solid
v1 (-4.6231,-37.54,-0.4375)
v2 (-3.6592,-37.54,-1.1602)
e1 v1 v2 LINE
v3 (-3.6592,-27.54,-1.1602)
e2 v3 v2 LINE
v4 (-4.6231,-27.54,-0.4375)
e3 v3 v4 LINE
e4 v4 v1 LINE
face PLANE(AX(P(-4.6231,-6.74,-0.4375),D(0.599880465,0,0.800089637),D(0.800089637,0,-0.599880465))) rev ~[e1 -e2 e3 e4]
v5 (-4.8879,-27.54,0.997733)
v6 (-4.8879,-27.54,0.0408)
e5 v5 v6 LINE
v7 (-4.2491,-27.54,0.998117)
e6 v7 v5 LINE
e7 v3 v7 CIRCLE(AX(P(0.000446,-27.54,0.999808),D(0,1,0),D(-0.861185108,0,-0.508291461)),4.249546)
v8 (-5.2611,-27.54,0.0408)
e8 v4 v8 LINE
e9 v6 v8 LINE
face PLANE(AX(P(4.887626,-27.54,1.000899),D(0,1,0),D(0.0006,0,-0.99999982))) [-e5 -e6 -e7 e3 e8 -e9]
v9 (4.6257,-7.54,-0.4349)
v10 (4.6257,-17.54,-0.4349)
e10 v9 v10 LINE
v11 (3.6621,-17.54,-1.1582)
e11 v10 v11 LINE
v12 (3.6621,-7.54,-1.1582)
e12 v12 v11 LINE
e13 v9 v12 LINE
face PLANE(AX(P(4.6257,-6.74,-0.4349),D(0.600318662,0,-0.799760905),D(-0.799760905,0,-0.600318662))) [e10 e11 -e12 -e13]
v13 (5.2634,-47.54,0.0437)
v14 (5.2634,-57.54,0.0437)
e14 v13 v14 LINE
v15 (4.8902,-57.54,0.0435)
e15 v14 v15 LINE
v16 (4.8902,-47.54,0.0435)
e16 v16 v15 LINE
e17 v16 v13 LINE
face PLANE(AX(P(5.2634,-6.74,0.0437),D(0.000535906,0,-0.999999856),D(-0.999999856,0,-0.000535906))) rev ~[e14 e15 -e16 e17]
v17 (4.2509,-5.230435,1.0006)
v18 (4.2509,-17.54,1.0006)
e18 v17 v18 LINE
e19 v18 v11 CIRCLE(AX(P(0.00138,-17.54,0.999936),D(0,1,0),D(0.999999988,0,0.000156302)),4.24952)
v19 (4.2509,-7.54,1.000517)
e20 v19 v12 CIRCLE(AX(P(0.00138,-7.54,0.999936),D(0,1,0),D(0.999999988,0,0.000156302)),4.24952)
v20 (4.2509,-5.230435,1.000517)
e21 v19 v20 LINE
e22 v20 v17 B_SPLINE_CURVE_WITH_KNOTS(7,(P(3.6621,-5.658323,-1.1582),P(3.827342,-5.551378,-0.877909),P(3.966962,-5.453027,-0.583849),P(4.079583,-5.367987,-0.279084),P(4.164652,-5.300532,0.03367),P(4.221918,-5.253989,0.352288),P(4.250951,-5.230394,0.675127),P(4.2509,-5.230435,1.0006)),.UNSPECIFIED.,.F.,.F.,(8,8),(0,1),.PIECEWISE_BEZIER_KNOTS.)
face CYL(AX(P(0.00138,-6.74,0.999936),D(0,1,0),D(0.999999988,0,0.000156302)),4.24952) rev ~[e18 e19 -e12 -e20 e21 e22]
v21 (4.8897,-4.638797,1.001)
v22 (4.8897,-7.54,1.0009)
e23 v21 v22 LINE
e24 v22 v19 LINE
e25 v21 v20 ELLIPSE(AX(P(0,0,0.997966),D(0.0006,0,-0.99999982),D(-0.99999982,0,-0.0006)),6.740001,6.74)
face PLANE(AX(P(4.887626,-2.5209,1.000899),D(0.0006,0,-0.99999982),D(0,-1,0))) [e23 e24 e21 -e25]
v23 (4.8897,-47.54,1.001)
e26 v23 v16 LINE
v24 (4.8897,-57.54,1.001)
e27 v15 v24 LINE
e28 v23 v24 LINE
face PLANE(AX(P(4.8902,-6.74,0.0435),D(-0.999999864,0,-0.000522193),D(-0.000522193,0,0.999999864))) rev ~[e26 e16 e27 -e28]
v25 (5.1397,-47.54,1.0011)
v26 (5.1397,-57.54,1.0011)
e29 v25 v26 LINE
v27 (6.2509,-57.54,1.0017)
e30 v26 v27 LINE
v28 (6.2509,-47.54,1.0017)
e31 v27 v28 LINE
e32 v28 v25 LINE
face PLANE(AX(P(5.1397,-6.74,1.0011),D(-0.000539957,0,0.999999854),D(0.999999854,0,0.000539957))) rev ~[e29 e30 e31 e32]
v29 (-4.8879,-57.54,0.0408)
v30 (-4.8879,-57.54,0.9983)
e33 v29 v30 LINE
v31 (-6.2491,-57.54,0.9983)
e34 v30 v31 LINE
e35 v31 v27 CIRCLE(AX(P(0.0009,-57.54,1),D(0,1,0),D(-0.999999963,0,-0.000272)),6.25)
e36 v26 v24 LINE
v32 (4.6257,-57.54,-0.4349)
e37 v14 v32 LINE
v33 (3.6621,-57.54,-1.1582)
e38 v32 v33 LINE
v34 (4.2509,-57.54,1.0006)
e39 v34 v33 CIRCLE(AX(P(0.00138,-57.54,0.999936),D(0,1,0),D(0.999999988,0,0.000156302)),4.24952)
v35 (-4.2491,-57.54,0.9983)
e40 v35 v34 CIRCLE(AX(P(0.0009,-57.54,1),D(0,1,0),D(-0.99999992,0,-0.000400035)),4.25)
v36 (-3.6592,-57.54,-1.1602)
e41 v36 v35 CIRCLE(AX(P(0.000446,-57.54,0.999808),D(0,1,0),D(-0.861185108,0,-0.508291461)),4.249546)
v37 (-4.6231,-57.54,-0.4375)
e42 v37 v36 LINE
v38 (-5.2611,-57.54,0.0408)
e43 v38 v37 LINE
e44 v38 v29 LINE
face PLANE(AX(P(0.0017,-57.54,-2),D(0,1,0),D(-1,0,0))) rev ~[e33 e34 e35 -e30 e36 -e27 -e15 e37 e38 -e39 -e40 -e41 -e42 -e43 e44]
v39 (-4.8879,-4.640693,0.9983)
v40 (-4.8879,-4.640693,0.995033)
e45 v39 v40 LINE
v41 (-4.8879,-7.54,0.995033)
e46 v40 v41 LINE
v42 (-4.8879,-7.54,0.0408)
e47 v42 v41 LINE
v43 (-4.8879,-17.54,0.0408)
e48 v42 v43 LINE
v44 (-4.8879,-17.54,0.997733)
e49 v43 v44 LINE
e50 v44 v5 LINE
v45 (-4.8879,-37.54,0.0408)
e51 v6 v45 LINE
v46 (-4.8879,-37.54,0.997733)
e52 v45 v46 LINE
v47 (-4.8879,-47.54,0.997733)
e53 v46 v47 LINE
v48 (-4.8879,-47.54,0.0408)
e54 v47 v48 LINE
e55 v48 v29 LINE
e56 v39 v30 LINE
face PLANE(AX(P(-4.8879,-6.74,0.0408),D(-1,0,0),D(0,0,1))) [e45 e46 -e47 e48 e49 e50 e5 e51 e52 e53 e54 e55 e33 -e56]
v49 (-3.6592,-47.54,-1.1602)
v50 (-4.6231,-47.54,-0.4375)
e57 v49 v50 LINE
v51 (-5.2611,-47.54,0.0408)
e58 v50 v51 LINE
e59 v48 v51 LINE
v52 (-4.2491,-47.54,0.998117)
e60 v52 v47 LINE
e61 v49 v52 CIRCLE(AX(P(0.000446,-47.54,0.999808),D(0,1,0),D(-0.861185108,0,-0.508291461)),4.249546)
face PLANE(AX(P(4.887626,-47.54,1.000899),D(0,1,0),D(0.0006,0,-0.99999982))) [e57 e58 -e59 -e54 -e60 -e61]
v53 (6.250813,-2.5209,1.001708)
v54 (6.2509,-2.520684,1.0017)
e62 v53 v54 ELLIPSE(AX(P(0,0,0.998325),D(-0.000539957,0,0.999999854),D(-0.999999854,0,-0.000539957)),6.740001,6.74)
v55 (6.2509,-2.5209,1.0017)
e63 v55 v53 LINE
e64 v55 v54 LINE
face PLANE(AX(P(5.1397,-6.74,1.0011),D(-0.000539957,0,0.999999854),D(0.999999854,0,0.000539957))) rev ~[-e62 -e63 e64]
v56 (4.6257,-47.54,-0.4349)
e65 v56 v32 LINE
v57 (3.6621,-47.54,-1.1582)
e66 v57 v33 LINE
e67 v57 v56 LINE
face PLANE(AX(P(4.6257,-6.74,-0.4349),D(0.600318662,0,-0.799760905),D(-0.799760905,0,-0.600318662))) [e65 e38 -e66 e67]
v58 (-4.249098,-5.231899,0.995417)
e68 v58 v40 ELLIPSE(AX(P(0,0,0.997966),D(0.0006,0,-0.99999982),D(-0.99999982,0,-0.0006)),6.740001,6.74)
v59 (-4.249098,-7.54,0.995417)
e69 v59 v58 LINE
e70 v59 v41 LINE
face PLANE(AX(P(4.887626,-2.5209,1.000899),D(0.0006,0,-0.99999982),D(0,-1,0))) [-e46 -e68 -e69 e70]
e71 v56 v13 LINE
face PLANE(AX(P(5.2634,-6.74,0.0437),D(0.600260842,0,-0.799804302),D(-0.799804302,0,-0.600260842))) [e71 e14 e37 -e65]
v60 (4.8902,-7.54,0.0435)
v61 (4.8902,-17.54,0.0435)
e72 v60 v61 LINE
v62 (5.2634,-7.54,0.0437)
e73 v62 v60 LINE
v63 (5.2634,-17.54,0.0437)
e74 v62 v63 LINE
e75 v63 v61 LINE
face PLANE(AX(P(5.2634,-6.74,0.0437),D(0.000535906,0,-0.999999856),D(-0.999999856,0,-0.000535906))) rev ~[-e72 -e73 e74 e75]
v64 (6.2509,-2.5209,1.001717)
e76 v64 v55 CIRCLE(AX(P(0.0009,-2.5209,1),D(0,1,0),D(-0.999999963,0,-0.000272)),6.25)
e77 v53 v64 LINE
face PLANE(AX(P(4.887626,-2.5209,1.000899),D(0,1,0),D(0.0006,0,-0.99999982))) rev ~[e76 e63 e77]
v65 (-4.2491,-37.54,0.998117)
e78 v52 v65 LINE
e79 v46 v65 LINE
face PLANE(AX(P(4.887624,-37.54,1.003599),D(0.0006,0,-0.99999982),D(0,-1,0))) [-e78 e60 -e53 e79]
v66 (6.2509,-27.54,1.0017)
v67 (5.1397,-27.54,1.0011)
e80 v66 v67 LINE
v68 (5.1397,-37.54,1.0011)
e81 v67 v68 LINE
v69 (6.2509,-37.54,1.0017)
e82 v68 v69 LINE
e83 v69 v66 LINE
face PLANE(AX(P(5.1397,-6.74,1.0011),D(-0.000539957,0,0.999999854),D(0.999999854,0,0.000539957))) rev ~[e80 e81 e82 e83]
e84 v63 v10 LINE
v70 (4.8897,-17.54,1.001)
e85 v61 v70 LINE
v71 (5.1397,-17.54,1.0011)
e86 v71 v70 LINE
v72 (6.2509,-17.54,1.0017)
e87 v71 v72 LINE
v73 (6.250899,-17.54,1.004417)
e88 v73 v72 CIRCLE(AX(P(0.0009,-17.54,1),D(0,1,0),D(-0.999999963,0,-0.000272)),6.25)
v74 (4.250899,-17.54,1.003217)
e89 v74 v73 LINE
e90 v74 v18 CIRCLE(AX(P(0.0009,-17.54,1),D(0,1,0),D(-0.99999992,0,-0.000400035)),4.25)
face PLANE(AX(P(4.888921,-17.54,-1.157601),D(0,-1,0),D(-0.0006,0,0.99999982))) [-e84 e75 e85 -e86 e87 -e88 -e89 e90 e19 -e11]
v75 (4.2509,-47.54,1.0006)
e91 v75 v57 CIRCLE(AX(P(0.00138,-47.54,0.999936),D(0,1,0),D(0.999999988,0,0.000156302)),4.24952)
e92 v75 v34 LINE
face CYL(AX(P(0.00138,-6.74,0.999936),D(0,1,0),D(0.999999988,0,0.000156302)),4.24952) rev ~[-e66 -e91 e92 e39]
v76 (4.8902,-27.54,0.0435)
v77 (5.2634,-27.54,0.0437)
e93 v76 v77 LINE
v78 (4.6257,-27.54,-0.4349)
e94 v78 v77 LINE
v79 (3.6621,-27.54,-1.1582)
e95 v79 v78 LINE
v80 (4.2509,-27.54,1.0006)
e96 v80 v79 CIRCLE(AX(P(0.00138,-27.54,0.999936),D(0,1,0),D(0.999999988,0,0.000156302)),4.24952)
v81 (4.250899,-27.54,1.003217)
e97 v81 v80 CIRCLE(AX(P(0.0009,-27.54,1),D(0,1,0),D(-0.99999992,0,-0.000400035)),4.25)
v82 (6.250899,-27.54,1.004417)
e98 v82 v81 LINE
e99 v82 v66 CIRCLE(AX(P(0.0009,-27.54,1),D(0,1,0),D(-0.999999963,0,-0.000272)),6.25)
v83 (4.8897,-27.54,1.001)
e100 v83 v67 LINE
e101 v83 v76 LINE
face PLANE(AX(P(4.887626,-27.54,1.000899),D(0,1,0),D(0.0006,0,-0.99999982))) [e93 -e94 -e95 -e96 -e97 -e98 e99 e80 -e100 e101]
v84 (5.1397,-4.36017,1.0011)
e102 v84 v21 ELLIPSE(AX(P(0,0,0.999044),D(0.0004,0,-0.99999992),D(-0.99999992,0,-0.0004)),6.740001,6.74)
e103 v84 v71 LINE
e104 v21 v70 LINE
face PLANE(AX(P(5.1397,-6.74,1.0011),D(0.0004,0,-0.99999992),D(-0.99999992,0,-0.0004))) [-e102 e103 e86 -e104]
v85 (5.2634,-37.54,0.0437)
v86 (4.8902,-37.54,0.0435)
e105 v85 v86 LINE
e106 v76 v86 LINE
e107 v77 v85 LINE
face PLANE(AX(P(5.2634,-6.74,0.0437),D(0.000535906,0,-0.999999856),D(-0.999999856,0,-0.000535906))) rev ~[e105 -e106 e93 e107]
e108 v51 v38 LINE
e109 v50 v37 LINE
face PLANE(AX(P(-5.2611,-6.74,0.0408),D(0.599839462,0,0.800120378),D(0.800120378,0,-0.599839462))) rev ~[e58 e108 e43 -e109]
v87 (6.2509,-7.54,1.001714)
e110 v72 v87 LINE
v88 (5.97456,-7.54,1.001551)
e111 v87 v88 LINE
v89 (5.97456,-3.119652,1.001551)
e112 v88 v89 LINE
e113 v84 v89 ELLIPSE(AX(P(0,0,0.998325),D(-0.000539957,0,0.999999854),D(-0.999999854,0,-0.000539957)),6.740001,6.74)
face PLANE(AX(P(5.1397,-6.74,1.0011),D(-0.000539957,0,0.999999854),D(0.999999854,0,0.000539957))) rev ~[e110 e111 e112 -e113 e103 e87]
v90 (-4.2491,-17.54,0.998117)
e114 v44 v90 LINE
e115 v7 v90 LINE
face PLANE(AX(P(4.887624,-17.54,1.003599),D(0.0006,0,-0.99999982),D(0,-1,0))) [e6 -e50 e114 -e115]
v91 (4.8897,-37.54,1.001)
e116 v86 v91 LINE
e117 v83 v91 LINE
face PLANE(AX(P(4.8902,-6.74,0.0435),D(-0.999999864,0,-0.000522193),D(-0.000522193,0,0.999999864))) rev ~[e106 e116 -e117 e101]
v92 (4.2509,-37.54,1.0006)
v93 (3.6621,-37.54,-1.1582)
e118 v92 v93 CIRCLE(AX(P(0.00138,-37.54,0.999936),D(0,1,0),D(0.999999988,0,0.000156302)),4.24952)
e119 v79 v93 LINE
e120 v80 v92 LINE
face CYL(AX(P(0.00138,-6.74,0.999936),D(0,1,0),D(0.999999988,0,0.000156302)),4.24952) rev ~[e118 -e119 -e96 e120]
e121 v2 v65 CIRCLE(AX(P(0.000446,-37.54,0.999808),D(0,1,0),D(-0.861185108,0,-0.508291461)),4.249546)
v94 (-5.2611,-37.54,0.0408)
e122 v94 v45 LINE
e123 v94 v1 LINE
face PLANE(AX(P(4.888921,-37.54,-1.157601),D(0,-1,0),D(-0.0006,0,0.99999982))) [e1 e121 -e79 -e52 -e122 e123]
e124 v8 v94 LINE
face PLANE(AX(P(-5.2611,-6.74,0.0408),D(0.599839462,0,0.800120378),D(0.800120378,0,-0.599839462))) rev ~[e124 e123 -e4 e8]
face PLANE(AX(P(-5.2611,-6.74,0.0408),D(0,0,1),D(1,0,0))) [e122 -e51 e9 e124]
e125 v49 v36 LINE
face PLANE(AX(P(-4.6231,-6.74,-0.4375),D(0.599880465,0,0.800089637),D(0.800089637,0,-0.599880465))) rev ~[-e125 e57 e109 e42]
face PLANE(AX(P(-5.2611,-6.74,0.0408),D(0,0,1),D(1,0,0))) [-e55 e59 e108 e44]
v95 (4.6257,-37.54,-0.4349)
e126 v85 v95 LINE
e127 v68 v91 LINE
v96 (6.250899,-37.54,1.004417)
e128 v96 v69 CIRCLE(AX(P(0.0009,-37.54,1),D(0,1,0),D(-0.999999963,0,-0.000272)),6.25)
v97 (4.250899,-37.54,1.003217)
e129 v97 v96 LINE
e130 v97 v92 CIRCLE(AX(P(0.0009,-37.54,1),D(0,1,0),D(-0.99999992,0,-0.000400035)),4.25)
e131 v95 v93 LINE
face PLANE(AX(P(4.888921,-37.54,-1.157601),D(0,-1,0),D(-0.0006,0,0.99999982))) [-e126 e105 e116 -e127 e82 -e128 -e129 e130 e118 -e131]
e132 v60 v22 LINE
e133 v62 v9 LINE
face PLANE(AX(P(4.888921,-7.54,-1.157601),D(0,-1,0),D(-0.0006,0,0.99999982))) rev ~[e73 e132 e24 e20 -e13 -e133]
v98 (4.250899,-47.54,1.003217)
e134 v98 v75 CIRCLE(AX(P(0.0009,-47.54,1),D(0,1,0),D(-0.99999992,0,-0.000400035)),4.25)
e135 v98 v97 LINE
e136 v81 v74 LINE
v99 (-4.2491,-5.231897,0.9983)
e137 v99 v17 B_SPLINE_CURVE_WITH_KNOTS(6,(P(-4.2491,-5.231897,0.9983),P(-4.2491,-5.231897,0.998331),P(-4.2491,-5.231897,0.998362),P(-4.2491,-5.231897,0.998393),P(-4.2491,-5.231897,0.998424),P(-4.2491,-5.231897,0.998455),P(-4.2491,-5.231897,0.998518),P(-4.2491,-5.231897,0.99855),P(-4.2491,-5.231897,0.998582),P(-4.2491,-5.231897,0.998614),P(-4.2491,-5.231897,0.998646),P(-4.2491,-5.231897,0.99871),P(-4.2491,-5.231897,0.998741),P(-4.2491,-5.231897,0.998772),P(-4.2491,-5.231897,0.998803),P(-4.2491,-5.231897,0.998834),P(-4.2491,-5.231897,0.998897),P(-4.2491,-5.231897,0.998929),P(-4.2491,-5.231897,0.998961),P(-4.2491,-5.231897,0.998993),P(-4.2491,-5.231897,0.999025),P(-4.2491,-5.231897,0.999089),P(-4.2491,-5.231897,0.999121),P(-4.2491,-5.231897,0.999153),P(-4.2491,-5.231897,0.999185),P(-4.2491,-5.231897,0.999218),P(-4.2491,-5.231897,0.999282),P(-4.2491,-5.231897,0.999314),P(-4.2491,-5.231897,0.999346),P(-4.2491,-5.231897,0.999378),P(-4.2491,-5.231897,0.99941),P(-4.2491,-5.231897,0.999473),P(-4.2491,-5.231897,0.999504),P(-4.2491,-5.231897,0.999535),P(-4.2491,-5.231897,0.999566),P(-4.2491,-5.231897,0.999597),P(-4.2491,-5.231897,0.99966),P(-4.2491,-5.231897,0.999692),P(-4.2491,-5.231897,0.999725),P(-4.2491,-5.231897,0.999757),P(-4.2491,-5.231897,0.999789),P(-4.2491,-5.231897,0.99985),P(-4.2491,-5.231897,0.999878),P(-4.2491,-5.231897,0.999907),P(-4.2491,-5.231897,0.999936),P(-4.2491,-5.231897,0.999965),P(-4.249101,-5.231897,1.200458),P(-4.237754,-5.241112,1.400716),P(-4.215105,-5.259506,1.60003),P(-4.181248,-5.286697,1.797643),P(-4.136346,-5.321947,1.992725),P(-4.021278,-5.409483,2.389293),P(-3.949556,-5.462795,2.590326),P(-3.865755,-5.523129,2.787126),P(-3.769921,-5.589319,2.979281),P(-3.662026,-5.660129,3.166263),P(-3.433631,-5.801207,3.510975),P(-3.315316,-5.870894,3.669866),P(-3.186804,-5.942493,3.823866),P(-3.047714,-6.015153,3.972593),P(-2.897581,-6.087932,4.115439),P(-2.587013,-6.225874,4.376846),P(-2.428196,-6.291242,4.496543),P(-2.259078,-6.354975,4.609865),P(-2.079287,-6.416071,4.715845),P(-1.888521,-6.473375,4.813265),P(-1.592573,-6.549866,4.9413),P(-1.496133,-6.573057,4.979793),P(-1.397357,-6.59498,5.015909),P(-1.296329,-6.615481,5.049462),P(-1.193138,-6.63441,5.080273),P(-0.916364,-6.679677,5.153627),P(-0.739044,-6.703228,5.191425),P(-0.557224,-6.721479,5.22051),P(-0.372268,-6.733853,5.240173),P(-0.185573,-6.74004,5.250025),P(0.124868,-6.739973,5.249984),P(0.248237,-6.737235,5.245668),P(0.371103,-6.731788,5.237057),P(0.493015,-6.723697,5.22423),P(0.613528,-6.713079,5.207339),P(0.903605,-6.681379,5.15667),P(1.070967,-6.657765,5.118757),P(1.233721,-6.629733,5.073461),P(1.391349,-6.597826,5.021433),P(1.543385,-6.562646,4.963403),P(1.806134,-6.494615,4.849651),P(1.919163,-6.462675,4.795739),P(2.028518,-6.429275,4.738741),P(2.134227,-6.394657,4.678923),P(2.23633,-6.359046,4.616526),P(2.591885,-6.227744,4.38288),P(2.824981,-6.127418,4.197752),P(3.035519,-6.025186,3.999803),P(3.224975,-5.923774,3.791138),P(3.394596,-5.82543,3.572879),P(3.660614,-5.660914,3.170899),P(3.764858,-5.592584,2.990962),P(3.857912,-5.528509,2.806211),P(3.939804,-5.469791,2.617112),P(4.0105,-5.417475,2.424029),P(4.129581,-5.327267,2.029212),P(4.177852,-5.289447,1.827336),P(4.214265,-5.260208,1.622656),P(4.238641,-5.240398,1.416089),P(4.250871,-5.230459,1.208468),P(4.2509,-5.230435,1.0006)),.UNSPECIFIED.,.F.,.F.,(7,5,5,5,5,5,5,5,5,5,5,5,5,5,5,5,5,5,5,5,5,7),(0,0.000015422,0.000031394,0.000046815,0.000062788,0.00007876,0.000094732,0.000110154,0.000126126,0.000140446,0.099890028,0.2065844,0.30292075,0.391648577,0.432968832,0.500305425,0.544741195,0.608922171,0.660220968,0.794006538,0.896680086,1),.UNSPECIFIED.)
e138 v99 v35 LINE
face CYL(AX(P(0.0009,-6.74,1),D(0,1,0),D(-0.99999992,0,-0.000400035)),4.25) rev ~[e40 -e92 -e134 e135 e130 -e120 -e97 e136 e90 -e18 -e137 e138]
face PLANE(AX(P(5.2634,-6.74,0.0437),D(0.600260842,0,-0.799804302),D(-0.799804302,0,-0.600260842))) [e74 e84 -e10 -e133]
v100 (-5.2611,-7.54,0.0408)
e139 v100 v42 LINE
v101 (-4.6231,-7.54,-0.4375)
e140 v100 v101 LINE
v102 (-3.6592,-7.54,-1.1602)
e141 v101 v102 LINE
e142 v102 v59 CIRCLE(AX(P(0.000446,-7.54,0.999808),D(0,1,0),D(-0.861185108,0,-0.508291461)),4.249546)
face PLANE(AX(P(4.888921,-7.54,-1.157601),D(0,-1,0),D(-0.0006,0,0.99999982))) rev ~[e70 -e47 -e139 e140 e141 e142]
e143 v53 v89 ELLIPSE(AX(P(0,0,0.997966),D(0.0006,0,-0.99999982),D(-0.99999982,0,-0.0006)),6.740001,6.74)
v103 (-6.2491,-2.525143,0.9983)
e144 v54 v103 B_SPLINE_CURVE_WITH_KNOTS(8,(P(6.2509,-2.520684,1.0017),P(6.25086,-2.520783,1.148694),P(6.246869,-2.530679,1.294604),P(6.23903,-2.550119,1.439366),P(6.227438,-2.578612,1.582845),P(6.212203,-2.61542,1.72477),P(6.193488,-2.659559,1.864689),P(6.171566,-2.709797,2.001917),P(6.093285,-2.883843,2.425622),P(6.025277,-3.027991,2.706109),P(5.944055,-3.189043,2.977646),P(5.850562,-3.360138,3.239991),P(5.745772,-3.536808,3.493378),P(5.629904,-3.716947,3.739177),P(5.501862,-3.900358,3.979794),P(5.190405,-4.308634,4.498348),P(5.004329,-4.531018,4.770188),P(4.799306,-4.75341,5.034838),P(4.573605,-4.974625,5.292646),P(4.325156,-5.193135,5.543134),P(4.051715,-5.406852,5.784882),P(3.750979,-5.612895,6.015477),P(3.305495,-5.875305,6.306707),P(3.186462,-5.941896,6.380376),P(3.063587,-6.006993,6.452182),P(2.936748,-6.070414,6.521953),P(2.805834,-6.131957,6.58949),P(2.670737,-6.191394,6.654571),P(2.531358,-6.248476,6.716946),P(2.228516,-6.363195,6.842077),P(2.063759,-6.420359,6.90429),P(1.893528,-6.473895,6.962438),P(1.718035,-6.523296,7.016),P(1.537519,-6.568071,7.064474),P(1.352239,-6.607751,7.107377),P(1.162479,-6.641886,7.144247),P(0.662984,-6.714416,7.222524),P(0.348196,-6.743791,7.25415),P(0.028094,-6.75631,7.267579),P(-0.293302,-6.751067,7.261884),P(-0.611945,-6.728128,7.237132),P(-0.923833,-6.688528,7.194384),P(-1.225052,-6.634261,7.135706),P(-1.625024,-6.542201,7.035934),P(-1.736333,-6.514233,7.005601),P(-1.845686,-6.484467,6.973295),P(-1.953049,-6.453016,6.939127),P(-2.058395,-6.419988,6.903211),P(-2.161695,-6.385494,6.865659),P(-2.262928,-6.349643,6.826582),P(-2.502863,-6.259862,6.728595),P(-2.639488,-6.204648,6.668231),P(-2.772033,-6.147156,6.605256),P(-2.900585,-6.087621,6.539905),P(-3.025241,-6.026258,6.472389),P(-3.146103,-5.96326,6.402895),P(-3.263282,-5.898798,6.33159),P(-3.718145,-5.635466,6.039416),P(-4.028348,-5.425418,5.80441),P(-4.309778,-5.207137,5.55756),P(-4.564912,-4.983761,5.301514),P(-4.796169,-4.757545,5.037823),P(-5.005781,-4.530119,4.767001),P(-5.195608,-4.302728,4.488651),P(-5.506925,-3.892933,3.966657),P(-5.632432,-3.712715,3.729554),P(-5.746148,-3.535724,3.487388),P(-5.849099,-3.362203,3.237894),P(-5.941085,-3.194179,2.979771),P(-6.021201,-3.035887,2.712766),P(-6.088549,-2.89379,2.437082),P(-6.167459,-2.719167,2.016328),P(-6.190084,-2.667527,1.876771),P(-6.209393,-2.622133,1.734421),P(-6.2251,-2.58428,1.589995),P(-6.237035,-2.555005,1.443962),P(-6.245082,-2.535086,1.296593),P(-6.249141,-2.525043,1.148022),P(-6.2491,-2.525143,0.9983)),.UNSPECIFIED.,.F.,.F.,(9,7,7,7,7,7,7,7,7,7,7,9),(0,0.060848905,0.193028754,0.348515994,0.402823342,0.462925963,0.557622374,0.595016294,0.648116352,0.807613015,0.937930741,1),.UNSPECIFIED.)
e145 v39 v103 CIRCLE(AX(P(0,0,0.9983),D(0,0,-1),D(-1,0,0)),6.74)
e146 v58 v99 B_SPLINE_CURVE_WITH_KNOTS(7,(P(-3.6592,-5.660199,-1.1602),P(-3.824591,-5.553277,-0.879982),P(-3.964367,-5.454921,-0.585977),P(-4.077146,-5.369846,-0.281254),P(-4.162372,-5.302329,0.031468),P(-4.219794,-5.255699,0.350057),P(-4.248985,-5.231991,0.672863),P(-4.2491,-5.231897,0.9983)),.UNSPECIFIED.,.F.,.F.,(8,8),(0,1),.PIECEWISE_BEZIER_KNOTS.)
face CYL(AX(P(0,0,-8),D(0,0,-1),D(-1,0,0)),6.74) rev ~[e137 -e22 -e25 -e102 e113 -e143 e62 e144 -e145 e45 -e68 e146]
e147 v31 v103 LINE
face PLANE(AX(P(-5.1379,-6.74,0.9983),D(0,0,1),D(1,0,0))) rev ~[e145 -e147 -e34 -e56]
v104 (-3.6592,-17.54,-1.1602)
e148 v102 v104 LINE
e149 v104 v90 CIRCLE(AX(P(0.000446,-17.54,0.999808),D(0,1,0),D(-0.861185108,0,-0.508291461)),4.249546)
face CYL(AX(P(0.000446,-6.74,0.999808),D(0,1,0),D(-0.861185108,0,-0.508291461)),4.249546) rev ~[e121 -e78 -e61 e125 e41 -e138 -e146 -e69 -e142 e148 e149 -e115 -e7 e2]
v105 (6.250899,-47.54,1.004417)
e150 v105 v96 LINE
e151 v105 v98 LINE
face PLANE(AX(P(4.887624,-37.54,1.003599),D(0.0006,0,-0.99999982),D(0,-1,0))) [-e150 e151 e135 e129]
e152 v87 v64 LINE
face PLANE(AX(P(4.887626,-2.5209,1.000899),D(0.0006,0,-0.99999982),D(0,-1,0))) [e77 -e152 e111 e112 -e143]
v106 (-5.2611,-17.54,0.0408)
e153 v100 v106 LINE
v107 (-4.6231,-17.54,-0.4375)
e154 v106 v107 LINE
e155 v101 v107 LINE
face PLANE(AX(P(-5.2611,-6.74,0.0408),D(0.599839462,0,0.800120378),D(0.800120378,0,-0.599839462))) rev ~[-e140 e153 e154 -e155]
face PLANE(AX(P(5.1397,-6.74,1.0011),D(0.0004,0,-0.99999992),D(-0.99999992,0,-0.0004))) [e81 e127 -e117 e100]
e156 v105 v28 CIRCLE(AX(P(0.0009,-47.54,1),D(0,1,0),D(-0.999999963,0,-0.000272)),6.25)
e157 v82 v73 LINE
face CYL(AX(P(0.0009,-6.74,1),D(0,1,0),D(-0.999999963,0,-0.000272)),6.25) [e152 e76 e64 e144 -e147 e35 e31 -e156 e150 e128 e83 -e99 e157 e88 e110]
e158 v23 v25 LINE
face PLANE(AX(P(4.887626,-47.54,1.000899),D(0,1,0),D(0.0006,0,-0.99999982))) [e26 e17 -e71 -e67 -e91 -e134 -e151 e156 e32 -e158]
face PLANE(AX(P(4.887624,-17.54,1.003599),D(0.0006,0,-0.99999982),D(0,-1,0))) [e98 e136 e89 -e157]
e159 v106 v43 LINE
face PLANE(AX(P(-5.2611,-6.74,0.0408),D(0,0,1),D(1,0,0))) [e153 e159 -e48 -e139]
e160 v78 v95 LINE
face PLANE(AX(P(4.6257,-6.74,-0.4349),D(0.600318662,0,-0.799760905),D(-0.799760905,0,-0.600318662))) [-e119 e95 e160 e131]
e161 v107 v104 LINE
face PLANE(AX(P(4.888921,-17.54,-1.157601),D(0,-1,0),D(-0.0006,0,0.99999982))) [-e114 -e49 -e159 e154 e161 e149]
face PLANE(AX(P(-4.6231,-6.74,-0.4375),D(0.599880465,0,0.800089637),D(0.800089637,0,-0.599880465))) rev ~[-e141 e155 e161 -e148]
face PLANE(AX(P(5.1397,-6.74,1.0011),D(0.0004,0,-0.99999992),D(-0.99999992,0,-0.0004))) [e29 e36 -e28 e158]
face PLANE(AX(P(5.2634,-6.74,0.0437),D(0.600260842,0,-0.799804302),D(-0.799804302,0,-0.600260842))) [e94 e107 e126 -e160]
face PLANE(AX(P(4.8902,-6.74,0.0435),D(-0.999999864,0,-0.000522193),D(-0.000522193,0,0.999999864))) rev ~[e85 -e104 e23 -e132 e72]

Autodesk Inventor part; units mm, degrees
ref_plane "YZ Plane" through (0, 0, 0) normal (1, 0, 0) x (0, 1, 0)
ref_plane "Work Plane2" through (0.0017, -6.74, -2) normal (0, 1, 0) x (-1, 0, 0)
sketch "Sketch1" plane through (0.0017, -6.74, -2) normal (0, 1, 0) x (-1, 0, 0)
  line L0 (-2.7483, 0) -> (0, 0) construction
  line L1 (0, 0) -> (0.0017, 6)
  line L2 (1.7517, 6) -> (-1.7483, 6) construction
  arc A0 (-3.9294, 1.3826) -> (-4.2492, 3) centre (0.0008, 3) ccw construction
  arc A1 (-3.413, 0.4685) -> (3.4132, 0.4666) centre (0.0008, 3) ccw construction
  line L3 (5.1396, 2.9983) -> (6.2508, 2.9983)
  arc A2 (-6.2492, 3.0017) -> (6.2508, 2.9983) centre (0.0008, 3) ccw construction
  line L4 (5.7129, 2.1908) -> (5.1396, 2.1908) construction
  line L5 (5.1396, 2.1908) -> (5.1396, 2.9983) construction
  line L6 (-5.138, 3.0011) -> (-6.2492, 3.0017)
  line L7 (-5.7117, 2.194) -> (-5.1384, 2.1937) construction
  line L8 (-5.1384, 2.1937) -> (-5.138, 3.0011) construction
  line L9 (5.7129, 2.1908) -> (3.4132, 0.4666) construction
  line L10 (-5.7117, 2.194) -> (-3.413, 0.4685) construction
  line L11 (5.1396, 2.5258) -> (4.8896, 2.5258) construction
  line L12 (5.1396, 2.1908) -> (5.1396, 2.0408) construction
  line L13 (4.7148, 1.4425) -> (4.6248, 1.5625) construction
  line L14 (5.2628, 2.0408) -> (4.6248, 1.5625)
  line L15 (5.2628, 2.0408) -> (4.8896, 2.0408)
  line L16 (5.1396, 2.9983) -> (4.8896, 2.9983)
  line L17 (4.8896, 2.0408) -> (4.8896, 2.9983)
  line L18 (4.6248, 1.5625) -> (3.6609, 0.8398)
  arc A3 (3.6609, 0.8398) -> (4.2508, 2.9983) centre (0.0008, 3) ccw
  line L19 (-5.2617, 2.0437) -> (-4.624, 1.5651)
  line L20 (-5.2617, 2.0437) -> (-4.8885, 2.0435)
  line L21 (-5.138, 3.0011) -> (-4.888, 3.001)
  line L22 (-4.8885, 2.0435) -> (-4.888, 3.001)
  line L23 (-4.624, 1.5651) -> (-3.6604, 0.8418)
  arc A4 (-4.2492, 3.0006) -> (-3.6604, 0.8418) centre (0.0008, 3) ccw
  arc A5 (4.2508, 2.9983) -> (-4.2492, 3.0006) centre (0.0008, 3) ccw
  arc A6 (-6.2492, 3.0017) -> (6.2508, 2.9983) centre (0.0008, 3) ccw construction
  arc A7 (6.2508, 2.9983) -> (-6.2492, 3.0017) centre (0.0008, 3) ccw
  point P0 (0.0017, 2)
  point P1 (3.9302, 1.3805)
  dimension "d0" = 8.5
  dimension "d3" = 12.5
extrude "Extrusion4" add sketch "Sketch1" against normal blind 50.8
ref_plane "Work Plane3" through (0, 0, -8) normal (0, 0, -1) x (-1, 0.0001, 0)
sketch "Sketch2" plane through (0, 0, -8) normal (0, 0, -1) x (-1, 0.0001, 0)
  circle A0 centre (0, 0) radius 6.74
extrude "Extrusion5" add sketch "Sketch1" along normal blind 5
extrude "Extrusion6" cut sketch "Sketch2" against normal blind 100
sketch "Sketch3" plane through (4.8902, -57.54, 0.0435) normal (1, 0, 0.0006) x (0.0006, 0, -1)
  line L0 (-0.0029, 0) -> (1.199, 0) projected
  line L1 (1.199, 0) -> (1.2011, 10) construction
  line L2 (1.2011, 51.8817) -> (1.2011, 0) projected
  line L3 (1.2011, 10) -> (1.2011, 20)
  line L4 (1.2011, 20) -> (1.2011, 30) construction
  line L5 (1.2011, 30) -> (1.2011, 40)
  line L6 (1.2011, 40) -> (1.2011, 50) construction
  line L7 (-0.9574, 55.0191) -> (-0.9574, 0) projected
  line L8 (1.2011, 50) -> (-0.9574, 50)
  line L9 (-0.9574, 50) -> (-0.9574, 55.0191)
  line L10 (-0.9574, 55.0191) -> (1.2011, 55.0191)
  line L11 (1.2011, 55.0191) -> (1.2011, 50)
  line L12 (-0.9601, 52.8994) -> (-0.9601, 0) projected
  line L13 (1.2011, 40) -> (-0.9601, 40)
  line L14 (-0.9601, 40) -> (-0.9601, 30)
  line L15 (-0.9601, 30) -> (1.2011, 30)
  line L16 (1.2011, 30) -> (1.2011, 40)
  line L17 (1.2011, 20) -> (-0.9601, 20)
  line L18 (-0.9601, 20) -> (-0.9601, 10)
  line L19 (-0.9601, 10) -> (1.2011, 10)
  line L20 (1.2011, 10) -> (1.2011, 20)
  point P0 (0.0408, 57.54)
  dimension "d27" = 10
  dimension "d28" = 10
  dimension "d29" = 10
  dimension "d30" = 10
  dimension "d31" = 10
extrude "Extrusion7" cut sketch "Sketch3" along normal mid plane 100 contours L2 L8 L7 L10 L11 | L2 L15 L7 L13 | L7 L15 L12 L13 | L2 L19 L7 L17 | L7 L19 L12 L17
properties part number "drone motor arm top"
